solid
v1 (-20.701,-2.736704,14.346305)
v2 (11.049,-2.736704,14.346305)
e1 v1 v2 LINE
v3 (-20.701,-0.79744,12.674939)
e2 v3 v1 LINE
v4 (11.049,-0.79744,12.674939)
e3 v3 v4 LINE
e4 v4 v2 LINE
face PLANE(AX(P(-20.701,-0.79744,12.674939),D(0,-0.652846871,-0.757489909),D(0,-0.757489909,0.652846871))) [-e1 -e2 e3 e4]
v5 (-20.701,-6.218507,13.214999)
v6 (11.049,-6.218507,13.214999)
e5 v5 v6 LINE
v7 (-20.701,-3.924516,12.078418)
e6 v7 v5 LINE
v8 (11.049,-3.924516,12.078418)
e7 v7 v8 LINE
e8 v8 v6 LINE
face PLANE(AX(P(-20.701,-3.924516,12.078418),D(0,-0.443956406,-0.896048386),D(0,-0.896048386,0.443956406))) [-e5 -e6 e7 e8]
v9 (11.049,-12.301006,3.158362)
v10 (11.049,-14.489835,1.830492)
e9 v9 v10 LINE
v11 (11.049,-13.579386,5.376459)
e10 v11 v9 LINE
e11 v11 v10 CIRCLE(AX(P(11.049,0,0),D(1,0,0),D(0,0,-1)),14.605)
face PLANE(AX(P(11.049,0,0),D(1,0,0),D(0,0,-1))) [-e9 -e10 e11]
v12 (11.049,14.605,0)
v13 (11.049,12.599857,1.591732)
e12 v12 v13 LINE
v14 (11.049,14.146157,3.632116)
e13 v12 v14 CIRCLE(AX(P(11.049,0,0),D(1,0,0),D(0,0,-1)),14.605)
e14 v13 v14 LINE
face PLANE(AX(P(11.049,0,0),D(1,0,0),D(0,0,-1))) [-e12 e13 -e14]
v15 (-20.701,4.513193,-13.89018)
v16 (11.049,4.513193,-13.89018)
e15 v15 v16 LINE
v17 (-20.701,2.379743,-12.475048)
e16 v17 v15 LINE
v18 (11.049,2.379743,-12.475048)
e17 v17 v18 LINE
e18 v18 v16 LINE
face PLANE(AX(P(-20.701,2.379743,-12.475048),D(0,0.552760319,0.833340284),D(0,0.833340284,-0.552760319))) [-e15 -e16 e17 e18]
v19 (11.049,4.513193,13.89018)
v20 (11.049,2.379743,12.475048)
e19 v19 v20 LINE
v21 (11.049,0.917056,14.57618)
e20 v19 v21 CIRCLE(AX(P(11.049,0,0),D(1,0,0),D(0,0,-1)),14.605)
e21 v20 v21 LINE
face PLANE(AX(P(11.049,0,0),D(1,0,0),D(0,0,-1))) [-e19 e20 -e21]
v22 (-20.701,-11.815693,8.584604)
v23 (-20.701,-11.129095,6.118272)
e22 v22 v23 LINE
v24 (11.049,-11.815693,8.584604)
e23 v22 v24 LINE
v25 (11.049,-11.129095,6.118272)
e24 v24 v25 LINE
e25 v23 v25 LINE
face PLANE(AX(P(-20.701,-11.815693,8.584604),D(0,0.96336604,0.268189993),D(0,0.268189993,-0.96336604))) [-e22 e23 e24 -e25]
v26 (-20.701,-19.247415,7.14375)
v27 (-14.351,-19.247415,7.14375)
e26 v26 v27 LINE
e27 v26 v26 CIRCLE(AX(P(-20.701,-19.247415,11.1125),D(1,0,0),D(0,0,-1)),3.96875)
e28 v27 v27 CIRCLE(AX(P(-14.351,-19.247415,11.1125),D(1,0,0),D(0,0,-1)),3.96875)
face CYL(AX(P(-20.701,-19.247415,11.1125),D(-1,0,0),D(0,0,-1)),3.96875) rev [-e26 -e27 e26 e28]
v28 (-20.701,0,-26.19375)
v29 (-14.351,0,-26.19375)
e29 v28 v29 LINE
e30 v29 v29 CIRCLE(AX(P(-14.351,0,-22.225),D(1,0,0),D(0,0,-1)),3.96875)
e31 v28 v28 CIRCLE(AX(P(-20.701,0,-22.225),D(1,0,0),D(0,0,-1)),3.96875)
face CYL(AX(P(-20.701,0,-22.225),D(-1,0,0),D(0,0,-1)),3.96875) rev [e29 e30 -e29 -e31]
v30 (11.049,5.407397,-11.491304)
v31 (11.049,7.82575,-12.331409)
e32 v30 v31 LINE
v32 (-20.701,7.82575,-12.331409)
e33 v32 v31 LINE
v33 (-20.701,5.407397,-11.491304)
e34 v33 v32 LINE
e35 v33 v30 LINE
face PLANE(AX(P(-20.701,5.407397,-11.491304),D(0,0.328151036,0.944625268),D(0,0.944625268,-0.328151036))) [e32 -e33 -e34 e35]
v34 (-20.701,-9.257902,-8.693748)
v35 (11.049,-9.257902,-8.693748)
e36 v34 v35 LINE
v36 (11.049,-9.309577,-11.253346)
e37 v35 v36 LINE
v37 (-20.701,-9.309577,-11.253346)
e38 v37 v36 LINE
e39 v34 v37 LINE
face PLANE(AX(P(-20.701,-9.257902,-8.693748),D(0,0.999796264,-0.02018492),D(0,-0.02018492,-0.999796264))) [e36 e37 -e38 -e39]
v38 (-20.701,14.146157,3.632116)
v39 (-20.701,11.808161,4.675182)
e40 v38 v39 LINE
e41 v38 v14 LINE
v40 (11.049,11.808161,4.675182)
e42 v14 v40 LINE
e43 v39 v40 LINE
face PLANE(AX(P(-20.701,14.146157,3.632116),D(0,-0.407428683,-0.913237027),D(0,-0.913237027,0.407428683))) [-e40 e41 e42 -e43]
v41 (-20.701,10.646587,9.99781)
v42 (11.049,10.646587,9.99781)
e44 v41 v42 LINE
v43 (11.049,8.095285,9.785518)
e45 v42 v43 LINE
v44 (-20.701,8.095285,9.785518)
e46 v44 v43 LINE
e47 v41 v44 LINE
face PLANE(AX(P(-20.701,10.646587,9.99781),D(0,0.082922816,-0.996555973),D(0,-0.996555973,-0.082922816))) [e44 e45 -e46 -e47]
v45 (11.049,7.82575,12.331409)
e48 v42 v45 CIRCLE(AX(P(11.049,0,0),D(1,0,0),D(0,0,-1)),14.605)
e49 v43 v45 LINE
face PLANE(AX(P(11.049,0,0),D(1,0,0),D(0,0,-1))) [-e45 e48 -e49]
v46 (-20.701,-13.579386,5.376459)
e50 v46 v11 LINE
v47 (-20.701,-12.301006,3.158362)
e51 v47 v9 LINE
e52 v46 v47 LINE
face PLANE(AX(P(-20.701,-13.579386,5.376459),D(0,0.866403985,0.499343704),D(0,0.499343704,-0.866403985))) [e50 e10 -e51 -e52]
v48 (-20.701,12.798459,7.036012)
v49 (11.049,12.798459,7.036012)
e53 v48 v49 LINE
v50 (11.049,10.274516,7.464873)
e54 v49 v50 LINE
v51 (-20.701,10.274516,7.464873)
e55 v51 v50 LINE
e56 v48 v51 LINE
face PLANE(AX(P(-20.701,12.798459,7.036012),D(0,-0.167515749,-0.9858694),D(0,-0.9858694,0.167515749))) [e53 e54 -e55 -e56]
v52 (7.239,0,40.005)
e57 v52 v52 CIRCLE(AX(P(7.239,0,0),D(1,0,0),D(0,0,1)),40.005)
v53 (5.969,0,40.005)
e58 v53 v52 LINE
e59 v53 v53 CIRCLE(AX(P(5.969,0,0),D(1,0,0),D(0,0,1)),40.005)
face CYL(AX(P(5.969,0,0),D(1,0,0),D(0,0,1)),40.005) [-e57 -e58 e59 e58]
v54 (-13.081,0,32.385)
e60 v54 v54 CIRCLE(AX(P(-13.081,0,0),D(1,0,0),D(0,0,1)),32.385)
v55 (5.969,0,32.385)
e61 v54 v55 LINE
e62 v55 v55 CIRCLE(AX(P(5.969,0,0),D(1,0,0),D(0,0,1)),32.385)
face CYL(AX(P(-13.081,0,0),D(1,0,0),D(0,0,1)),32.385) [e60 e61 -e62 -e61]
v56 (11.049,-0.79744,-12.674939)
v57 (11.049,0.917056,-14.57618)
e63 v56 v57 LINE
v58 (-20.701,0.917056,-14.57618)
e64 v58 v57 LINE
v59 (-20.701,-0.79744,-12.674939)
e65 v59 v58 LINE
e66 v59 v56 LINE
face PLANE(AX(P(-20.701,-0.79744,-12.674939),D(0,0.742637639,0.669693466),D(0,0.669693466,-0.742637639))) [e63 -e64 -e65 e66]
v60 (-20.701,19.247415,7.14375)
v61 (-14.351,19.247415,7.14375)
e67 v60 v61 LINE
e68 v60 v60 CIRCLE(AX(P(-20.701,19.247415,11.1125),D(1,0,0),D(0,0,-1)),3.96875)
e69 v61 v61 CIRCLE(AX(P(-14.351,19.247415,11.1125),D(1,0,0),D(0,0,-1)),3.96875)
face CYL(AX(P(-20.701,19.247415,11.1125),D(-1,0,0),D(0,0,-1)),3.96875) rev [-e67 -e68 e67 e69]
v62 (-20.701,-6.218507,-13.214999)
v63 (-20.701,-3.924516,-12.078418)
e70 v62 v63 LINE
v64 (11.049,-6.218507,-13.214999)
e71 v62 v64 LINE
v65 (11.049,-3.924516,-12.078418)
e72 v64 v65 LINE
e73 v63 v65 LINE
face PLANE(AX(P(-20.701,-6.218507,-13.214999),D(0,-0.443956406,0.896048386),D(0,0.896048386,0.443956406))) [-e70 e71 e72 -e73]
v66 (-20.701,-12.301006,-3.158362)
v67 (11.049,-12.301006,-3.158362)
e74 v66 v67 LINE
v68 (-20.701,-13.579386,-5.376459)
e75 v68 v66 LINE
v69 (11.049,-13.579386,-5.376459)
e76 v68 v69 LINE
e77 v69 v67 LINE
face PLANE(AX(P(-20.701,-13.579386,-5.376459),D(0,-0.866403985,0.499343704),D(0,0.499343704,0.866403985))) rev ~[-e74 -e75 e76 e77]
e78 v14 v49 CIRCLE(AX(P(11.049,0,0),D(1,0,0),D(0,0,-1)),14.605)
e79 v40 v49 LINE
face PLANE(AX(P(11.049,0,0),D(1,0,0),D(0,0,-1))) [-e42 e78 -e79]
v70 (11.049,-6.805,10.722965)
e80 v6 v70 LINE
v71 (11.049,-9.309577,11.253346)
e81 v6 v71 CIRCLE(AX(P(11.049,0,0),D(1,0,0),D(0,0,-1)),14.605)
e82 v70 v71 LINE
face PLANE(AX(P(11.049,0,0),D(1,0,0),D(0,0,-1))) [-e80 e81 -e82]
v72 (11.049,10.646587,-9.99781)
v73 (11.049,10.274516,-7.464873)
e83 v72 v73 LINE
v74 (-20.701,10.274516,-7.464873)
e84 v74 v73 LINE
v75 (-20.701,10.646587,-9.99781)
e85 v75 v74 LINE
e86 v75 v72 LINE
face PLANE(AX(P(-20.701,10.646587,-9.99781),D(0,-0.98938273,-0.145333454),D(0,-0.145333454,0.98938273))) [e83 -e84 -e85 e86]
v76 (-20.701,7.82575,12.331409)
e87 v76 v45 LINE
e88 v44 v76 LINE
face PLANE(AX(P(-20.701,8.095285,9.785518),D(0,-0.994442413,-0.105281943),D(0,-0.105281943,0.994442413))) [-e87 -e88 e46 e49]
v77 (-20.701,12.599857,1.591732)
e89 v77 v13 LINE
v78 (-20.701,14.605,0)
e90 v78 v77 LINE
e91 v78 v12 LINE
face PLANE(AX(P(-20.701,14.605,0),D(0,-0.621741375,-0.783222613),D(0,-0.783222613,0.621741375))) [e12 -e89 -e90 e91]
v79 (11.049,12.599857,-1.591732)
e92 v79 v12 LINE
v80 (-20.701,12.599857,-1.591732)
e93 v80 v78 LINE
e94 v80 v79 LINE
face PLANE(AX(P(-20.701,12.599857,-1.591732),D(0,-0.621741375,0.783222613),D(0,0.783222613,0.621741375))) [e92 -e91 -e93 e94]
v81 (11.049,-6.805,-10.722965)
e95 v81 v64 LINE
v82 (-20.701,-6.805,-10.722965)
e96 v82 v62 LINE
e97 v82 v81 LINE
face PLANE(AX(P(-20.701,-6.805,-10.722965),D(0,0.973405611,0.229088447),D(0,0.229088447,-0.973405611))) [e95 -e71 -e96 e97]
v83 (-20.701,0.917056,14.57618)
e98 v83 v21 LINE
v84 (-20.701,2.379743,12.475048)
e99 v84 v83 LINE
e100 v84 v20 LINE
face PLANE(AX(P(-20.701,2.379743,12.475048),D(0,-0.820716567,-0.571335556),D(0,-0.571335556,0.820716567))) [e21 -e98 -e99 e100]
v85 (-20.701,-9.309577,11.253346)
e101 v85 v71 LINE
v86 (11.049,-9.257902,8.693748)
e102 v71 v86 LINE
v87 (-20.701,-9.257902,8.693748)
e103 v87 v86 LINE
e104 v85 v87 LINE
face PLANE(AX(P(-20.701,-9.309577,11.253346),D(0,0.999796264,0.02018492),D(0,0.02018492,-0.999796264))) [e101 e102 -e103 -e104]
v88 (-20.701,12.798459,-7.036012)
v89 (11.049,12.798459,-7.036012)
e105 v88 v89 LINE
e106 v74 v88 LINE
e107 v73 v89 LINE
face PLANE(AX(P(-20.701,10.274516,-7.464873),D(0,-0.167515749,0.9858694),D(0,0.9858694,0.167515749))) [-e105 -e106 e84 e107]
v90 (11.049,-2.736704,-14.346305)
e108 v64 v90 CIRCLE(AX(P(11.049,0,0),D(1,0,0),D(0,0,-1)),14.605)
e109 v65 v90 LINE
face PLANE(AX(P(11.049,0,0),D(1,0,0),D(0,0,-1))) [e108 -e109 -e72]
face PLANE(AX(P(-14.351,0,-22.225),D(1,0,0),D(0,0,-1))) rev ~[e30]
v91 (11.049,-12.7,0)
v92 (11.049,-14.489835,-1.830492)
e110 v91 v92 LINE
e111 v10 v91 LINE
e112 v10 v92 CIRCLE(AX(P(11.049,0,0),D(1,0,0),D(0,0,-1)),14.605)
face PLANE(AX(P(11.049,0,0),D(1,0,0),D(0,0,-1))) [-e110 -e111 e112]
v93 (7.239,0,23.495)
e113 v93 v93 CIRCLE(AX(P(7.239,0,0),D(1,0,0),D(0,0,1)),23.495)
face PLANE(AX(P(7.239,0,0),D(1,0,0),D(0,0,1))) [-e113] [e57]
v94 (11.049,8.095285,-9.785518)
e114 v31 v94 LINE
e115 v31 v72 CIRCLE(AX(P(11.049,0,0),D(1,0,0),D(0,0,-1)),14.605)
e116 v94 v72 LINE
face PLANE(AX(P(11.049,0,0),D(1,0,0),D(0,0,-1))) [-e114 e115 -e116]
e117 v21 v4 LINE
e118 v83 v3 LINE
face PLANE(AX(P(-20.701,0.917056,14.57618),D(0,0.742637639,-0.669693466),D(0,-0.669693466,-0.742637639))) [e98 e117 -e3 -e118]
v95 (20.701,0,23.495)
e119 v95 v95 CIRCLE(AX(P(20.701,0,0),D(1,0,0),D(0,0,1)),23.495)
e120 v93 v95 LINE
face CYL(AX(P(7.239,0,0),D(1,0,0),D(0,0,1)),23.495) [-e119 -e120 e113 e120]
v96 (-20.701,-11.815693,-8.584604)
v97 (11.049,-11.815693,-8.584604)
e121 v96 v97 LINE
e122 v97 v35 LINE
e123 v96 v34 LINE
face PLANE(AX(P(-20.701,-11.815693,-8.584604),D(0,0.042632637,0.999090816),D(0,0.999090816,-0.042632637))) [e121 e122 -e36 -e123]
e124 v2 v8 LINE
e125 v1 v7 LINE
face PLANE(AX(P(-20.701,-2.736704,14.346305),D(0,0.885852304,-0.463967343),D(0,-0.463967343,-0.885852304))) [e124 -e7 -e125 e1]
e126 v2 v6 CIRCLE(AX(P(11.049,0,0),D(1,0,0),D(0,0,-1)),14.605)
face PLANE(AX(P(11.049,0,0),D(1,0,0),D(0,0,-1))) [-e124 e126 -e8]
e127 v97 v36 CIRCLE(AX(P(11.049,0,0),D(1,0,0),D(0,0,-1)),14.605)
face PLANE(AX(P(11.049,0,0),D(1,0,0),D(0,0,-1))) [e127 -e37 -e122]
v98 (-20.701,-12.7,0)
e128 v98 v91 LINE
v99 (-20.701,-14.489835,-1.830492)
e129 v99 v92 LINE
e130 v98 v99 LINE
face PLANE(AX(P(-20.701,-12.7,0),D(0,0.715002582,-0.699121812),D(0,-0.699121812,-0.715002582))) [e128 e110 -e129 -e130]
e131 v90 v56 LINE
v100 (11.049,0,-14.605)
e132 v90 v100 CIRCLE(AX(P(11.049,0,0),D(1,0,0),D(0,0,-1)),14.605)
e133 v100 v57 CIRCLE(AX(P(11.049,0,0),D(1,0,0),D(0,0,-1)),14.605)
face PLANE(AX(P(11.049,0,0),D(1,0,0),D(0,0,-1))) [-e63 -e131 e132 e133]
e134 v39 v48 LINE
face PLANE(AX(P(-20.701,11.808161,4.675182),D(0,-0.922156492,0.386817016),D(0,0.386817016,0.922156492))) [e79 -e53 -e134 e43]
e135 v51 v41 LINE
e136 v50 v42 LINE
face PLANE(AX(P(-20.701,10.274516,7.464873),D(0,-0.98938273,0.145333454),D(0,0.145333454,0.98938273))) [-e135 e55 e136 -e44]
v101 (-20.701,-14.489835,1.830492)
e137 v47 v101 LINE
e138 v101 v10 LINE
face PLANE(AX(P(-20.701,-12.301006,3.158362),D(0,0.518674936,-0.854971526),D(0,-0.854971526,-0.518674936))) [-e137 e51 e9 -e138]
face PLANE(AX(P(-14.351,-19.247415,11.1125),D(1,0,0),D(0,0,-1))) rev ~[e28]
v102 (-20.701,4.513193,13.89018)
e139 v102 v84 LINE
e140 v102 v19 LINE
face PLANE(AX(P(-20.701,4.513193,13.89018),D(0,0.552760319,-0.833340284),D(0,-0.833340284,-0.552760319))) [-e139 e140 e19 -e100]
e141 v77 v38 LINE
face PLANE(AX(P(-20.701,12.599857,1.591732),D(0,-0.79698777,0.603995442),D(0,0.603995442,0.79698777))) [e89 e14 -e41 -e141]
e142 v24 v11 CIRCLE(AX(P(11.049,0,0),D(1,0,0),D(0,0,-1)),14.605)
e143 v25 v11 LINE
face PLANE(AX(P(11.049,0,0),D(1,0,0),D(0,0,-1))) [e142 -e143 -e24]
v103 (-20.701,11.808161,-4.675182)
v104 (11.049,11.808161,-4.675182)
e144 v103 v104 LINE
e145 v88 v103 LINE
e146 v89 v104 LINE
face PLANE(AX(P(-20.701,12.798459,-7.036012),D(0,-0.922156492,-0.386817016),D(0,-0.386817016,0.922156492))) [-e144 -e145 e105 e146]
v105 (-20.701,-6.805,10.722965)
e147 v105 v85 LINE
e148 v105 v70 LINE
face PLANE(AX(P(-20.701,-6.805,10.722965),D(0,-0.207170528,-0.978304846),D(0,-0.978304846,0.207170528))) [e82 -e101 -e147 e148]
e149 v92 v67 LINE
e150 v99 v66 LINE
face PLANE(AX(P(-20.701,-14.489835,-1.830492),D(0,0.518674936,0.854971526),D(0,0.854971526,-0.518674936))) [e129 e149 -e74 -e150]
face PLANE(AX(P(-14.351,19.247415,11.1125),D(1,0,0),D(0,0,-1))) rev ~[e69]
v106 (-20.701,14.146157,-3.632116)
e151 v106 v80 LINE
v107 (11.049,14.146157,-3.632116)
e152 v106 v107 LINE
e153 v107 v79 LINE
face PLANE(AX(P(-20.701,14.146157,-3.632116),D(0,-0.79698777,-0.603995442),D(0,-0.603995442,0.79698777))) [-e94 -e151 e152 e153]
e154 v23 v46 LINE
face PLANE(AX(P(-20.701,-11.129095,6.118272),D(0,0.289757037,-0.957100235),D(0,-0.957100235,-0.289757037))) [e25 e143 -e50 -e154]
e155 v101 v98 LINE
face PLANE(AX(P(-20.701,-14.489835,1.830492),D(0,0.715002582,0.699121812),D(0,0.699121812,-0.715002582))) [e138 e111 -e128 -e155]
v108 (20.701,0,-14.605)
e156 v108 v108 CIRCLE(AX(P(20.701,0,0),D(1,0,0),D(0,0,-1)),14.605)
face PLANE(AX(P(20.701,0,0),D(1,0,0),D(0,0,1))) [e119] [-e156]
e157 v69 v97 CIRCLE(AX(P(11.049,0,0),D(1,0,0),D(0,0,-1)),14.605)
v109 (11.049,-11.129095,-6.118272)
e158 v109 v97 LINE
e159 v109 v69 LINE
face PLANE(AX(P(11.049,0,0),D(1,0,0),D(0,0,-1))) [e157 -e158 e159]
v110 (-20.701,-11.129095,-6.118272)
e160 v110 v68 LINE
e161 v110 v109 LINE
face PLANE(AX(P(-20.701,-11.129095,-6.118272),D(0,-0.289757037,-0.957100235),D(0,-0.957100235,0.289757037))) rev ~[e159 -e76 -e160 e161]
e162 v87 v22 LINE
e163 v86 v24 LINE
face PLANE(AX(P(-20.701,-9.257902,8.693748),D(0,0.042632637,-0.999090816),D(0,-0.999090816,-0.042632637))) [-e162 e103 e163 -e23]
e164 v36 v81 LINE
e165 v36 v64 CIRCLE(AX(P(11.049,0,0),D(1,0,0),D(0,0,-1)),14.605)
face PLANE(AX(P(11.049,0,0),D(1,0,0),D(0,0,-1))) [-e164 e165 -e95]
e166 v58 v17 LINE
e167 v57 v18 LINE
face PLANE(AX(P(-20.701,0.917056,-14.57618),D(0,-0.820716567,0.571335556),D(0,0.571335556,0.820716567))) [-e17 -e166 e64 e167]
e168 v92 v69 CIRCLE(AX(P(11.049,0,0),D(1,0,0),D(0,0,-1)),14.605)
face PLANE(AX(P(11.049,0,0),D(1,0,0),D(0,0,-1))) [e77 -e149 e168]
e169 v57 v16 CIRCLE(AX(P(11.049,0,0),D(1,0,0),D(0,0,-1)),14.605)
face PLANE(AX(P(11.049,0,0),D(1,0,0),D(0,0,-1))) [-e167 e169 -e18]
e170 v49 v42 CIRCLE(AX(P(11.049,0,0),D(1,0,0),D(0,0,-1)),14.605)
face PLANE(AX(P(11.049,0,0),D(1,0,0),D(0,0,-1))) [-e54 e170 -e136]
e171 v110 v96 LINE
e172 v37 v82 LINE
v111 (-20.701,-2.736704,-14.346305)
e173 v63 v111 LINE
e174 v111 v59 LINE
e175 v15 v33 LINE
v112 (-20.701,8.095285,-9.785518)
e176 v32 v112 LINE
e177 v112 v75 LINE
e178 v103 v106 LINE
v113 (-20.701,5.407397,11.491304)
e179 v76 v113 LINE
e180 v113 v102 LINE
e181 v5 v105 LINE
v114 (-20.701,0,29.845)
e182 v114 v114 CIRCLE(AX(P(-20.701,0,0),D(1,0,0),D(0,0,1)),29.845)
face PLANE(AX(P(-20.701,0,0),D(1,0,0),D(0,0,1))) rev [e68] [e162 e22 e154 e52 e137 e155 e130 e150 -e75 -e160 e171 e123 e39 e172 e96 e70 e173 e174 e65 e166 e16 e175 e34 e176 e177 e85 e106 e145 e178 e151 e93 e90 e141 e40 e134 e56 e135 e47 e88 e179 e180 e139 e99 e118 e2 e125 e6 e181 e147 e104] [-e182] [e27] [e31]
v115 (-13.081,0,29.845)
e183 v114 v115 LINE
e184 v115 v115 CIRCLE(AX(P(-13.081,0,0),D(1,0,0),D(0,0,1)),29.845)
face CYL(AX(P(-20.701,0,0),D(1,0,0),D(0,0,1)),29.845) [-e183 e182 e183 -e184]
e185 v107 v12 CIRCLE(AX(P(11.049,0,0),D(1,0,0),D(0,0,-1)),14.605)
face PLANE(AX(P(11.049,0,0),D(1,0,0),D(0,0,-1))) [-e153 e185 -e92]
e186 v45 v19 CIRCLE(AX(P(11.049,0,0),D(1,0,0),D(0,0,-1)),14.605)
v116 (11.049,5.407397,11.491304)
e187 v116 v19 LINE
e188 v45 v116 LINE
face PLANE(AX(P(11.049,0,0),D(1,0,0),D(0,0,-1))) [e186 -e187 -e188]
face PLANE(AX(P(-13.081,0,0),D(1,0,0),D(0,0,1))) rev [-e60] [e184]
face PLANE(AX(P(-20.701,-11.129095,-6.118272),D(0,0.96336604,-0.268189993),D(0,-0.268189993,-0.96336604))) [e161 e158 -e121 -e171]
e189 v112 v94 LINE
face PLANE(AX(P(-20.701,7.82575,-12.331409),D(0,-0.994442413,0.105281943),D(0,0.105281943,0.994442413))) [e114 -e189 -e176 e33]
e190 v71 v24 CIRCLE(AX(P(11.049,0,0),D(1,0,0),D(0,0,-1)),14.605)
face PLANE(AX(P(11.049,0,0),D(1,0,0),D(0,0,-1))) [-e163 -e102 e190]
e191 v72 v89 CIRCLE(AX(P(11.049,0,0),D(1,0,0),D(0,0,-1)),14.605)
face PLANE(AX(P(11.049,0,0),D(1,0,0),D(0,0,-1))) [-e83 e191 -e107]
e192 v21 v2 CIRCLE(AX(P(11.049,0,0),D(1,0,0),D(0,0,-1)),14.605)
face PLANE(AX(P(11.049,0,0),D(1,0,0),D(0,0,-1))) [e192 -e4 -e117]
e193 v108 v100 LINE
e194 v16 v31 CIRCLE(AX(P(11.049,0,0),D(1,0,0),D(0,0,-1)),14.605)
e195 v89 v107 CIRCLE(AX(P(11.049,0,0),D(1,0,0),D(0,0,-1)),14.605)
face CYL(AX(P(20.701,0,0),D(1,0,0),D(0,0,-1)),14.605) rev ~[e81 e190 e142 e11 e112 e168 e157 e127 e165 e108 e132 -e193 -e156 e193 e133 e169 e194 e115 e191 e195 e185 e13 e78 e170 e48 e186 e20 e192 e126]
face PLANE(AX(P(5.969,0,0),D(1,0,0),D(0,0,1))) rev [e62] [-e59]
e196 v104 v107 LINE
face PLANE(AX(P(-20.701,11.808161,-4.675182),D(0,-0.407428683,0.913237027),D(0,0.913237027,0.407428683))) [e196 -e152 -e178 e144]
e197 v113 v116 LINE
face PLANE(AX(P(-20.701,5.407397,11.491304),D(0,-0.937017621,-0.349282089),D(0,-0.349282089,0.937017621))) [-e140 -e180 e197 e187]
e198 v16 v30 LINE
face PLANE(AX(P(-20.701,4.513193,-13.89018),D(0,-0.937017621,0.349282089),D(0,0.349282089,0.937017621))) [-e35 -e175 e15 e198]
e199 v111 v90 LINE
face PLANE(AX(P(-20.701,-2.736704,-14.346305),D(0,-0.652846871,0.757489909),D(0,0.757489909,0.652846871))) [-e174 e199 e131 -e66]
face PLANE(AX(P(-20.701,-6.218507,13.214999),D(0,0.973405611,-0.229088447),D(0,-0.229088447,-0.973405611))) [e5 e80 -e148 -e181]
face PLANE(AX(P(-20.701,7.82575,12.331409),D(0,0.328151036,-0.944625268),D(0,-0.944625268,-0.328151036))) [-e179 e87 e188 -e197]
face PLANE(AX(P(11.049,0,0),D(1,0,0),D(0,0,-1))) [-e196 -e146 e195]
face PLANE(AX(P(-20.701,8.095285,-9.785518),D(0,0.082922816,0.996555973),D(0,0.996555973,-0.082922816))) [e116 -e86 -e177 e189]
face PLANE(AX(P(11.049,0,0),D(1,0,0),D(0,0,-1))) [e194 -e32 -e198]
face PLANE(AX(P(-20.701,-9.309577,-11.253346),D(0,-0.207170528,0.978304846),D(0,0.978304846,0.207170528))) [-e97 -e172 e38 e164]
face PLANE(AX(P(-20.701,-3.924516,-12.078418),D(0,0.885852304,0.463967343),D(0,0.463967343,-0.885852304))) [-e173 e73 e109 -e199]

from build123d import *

# Parameters (mm, degrees)
SKETCH2_R          = 3.96875
CUT_EXTRUDE1_DEPTH = 6.35
CUT_EXTRUDE2_START = -41.402
CUT_EXTRUDE2_DEPTH = 31.75
SKETCH3_4_R        = 14.605
CUT_EXTRUDE3_DEPTH = 9.652


with BuildPart() as part:
    # Sketch1 → Revolve1 (revolve)
    with BuildSketch(Plane(origin=(0, 0, 0), x_dir=(1, 0, 0), z_dir=(0, 1, 0))):
        Polygon((-20.701, -12.7), (-20.701, -29.845), (-13.081, -29.845), (-13.081, -32.385), (5.969, -32.385), (5.969, -40.005), (7.239, -40.005), (7.239, -23.495), (20.701, -23.495), (20.701, -12.7), align=None)
    revolve(axis=Axis((-34.012862719, 0, 0), (1, 0, 0)))

    # Sketch2 → Cut-Extrude1 (cut)
    with BuildSketch(Plane(origin=(-20.701, 0, 0), x_dir=(0, 0, -1), z_dir=(1, 0, 0))):
        with Locations((22.225, 0)):
            Circle(SKETCH2_R)
        with Locations((-11.1125, -19.247414599)):
            Circle(SKETCH2_R)
        with Locations((-11.1125, 19.247414599)):
            Circle(SKETCH2_R)
    extrude(amount=CUT_EXTRUDE1_DEPTH, mode=Mode.SUBTRACT)

    # Sketch3 → Cut-Extrude2 (cut)
    with BuildSketch(Plane(origin=(20.701, 0, 0), x_dir=(0, 0, -1), z_dir=(1, 0, 0)).offset(CUT_EXTRUDE2_START)):
        with BuildLine():
            Line((-13.214999101, -6.218506553), (-10.722964654, -6.805000296))
            ThreePointArc((-10.722964654, -6.805000296), (-11.491303566, -5.407397003), (-12.078417757, -3.924515829))
            Line((-12.078417757, -3.924515829), (-13.214999101, -6.218506553))
        make_face()
        with BuildLine():
            Line((-14.346305297, -2.7367041), (-12.078417757, -3.924515829))
            ThreePointArc((-12.078417757, -3.924515829), (-12.475048084, -2.379742695), (-12.674939451, -0.797439598))
            Line((-12.674939451, -0.797439598), (-14.346305297, -2.7367041))
        make_face()
        with BuildLine():
            Line((-14.576180369, 0.917055538), (-12.674939451, -0.797439598))
            ThreePointArc((-12.674939451, -0.797439598), (-12.674939451, 0.797439598), (-12.475048084, 2.379742695))
            Line((-12.475048084, 2.379742695), (-14.576180369, 0.917055538))
        make_face()
        with BuildLine():
            Line((-13.89018042, 4.513193203), (-12.475048084, 2.379742695))
            ThreePointArc((-12.475048084, 2.379742695), (-12.078417757, 3.924515829), (-11.491303566, 5.407397003))
            Line((-11.491303566, 5.407397003), (-13.89018042, 4.513193203))
        make_face()
        with BuildLine():
            Line((-12.331409352, 7.825750341), (-11.491303566, 5.407397003))
            ThreePointArc((-11.491303566, 5.407397003), (-10.722964654, 6.805000296), (-9.785518183, 8.09528467))
            Line((-9.785518183, 8.09528467), (-12.331409352, 7.825750341))
        make_face()
        with BuildLine():
            Line((-9.997810482, 10.646586803), (-9.785518183, 8.09528467))
            ThreePointArc((-9.785518183, 8.09528467), (-8.693748245, 9.257901568), (-7.464872704, 10.274515829))
            Line((-7.464872704, 10.274515829), (-9.997810482, 10.646586803))
        make_face()
        with BuildLine():
            Line((-7.03601241, 12.798459062), (-7.464872704, 10.274515829))
            ThreePointArc((-7.464872704, 10.274515829), (-6.118271661, 11.129094837), (-4.675181819, 11.808161371))
            Line((-4.675181819, 11.808161371), (-7.03601241, 12.798459062))
        make_face()
        with BuildLine():
            Line((-3.632115802, 14.146157068), (-4.675181819, 11.808161371))
            ThreePointArc((-4.675181819, 11.808161371), (-3.158361567, 12.301006146), (-1.591732066, 12.599856707))
            Line((-1.591732066, 12.599856707), (-3.632115802, 14.146157068))
        make_face()
        with BuildLine():
            ThreePointArc((-1.591732066, 12.599856707), (0, 12.7), (1.591732066, 12.599856707))
            Line((1.591732066, 12.599856707), (0, 14.605))
            Line((0, 14.605), (-1.591732066, 12.599856707))
        make_face()
        with BuildLine():
            ThreePointArc((1.591732066, 12.599856707), (3.158361567, 12.301006146), (4.675181819, 11.808161371))
            Line((4.675181819, 11.808161371), (3.632115802, 14.146157068))
            Line((3.632115802, 14.146157068), (1.591732066, 12.599856707))
        make_face()
        with BuildLine():
            ThreePointArc((4.675181819, 11.808161371), (6.118271661, 11.129094837), (7.464872704, 10.274515829))
            Line((7.464872704, 10.274515829), (7.03601241, 12.798459062))
            Line((7.03601241, 12.798459062), (4.675181819, 11.808161371))
        make_face()
        with BuildLine():
            ThreePointArc((7.464872704, 10.274515829), (8.693748245, 9.257901568), (9.785518183, 8.09528467))
            Line((9.785518183, 8.09528467), (9.997810482, 10.646586803))
            Line((9.997810482, 10.646586803), (7.464872704, 10.274515829))
        make_face()
        with BuildLine():
            ThreePointArc((9.785518183, 8.09528467), (10.722964654, 6.805000296), (11.491303566, 5.407397003))
            Line((11.491303566, 5.407397003), (12.331409352, 7.825750341))
            Line((12.331409352, 7.825750341), (9.785518183, 8.09528467))
        make_face()
        with BuildLine():
            ThreePointArc((11.491303566, 5.407397003), (12.078417757, 3.924515829), (12.475048084, 2.379742695))
            Line((12.475048084, 2.379742695), (13.89018042, 4.513193203))
            Line((13.89018042, 4.513193203), (11.491303566, 5.407397003))
        make_face()
        with BuildLine():
            ThreePointArc((12.7, 0), (12.693733317, -0.39891664), (12.674939451, -0.797439598))
            Line((12.674939451, -0.797439598), (14.576180369, 0.917055538))
            Line((14.576180369, 0.917055538), (12.475048084, 2.379742695))
            ThreePointArc((12.475048084, 2.379742695), (12.64363695, 1.195175579), (12.7, 0))
        make_face()
        with BuildLine():
            ThreePointArc((12.674939451, -0.797439598), (12.475048084, -2.379742695), (12.078417757, -3.924515829))
            Line((12.078417757, -3.924515829), (14.346305297, -2.7367041))
            Line((14.346305297, -2.7367041), (12.674939451, -0.797439598))
        make_face()
        with BuildLine():
            ThreePointArc((12.078417757, -3.924515829), (11.491303566, -5.407397003), (10.722964654, -6.805000296))
            Line((10.722964654, -6.805000296), (13.214999101, -6.218506553))
            Line((13.214999101, -6.218506553), (12.078417757, -3.924515829))
        make_face()
        with BuildLine():
            ThreePointArc((10.722964654, -6.805000296), (9.785518183, -8.09528467), (8.693748245, -9.257901568))
            Line((8.693748245, -9.257901568), (11.253345911, -9.30957737))
            Line((11.253345911, -9.30957737), (10.722964654, -6.805000296))
        make_face()
        with BuildLine():
            ThreePointArc((8.693748245, -9.257901568), (7.464872704, -10.274515829), (6.118271661, -11.129094837))
            Line((6.118271661, -11.129094837), (8.58460361, -11.815693203))
            Line((8.58460361, -11.815693203), (8.693748245, -9.257901568))
        make_face()
        with BuildLine():
            Line((1.830491876, -14.489835213), (3.158361567, -12.301006146))
            ThreePointArc((3.158361567, -12.301006146), (1.591732066, -12.599856707), (0, -12.7))
            Line((0, -12.7), (1.830491876, -14.489835213))
        make_face()
        with BuildLine():
            Line((-1.830491876, -14.489835213), (0, -12.7))
            ThreePointArc((0, -12.7), (-1.591732066, -12.599856707), (-3.158361567, -12.301006146))
            Line((-3.158361567, -12.301006146), (-1.830491876, -14.489835213))
        make_face()
        with BuildLine():
            Line((-5.376459092, -13.579385576), (-3.158361567, -12.301006146))
            ThreePointArc((-3.158361567, -12.301006146), (-4.675181819, -11.808161371), (-6.118271661, -11.129094837))
            Line((-6.118271661, -11.129094837), (-5.376459092, -13.579385576))
        make_face()
        with BuildLine():
            Line((-8.58460361, -11.815693203), (-6.118271661, -11.129094837))
            ThreePointArc((-6.118271661, -11.129094837), (-7.464872704, -10.274515829), (-8.693748245, -9.257901568))
            Line((-8.693748245, -9.257901568), (-8.58460361, -11.815693203))
        make_face()
        with BuildLine():
            Line((-11.253345911, -9.30957737), (-8.693748245, -9.257901568))
            ThreePointArc((-8.693748245, -9.257901568), (-9.785518183, -8.09528467), (-10.722964654, -6.805000296))
            Line((-10.722964654, -6.805000296), (-11.253345911, -9.30957737))
        make_face()
        with BuildLine():
            Line((6.118271661, -11.129094837), (5.376459092, -13.579385576))
            Line((5.376459092, -13.579385576), (3.158361567, -12.301006146))
            ThreePointArc((3.158361567, -12.301006146), (4.675181819, -11.808161371), (6.118271661, -11.129094837))
        make_face()
    extrude(amount=CUT_EXTRUDE2_DEPTH, mode=Mode.SUBTRACT)

    # Sketch3<4> → Cut-Extrude3 (cut)
    with BuildSketch(Plane(origin=(20.701, 0, 0), x_dir=(0, 0, -1), z_dir=(1, 0, 0))):
        Circle(SKETCH3_4_R)
    extrude(amount=-CUT_EXTRUDE3_DEPTH, mode=Mode.SUBTRACT)


solid = part.part
